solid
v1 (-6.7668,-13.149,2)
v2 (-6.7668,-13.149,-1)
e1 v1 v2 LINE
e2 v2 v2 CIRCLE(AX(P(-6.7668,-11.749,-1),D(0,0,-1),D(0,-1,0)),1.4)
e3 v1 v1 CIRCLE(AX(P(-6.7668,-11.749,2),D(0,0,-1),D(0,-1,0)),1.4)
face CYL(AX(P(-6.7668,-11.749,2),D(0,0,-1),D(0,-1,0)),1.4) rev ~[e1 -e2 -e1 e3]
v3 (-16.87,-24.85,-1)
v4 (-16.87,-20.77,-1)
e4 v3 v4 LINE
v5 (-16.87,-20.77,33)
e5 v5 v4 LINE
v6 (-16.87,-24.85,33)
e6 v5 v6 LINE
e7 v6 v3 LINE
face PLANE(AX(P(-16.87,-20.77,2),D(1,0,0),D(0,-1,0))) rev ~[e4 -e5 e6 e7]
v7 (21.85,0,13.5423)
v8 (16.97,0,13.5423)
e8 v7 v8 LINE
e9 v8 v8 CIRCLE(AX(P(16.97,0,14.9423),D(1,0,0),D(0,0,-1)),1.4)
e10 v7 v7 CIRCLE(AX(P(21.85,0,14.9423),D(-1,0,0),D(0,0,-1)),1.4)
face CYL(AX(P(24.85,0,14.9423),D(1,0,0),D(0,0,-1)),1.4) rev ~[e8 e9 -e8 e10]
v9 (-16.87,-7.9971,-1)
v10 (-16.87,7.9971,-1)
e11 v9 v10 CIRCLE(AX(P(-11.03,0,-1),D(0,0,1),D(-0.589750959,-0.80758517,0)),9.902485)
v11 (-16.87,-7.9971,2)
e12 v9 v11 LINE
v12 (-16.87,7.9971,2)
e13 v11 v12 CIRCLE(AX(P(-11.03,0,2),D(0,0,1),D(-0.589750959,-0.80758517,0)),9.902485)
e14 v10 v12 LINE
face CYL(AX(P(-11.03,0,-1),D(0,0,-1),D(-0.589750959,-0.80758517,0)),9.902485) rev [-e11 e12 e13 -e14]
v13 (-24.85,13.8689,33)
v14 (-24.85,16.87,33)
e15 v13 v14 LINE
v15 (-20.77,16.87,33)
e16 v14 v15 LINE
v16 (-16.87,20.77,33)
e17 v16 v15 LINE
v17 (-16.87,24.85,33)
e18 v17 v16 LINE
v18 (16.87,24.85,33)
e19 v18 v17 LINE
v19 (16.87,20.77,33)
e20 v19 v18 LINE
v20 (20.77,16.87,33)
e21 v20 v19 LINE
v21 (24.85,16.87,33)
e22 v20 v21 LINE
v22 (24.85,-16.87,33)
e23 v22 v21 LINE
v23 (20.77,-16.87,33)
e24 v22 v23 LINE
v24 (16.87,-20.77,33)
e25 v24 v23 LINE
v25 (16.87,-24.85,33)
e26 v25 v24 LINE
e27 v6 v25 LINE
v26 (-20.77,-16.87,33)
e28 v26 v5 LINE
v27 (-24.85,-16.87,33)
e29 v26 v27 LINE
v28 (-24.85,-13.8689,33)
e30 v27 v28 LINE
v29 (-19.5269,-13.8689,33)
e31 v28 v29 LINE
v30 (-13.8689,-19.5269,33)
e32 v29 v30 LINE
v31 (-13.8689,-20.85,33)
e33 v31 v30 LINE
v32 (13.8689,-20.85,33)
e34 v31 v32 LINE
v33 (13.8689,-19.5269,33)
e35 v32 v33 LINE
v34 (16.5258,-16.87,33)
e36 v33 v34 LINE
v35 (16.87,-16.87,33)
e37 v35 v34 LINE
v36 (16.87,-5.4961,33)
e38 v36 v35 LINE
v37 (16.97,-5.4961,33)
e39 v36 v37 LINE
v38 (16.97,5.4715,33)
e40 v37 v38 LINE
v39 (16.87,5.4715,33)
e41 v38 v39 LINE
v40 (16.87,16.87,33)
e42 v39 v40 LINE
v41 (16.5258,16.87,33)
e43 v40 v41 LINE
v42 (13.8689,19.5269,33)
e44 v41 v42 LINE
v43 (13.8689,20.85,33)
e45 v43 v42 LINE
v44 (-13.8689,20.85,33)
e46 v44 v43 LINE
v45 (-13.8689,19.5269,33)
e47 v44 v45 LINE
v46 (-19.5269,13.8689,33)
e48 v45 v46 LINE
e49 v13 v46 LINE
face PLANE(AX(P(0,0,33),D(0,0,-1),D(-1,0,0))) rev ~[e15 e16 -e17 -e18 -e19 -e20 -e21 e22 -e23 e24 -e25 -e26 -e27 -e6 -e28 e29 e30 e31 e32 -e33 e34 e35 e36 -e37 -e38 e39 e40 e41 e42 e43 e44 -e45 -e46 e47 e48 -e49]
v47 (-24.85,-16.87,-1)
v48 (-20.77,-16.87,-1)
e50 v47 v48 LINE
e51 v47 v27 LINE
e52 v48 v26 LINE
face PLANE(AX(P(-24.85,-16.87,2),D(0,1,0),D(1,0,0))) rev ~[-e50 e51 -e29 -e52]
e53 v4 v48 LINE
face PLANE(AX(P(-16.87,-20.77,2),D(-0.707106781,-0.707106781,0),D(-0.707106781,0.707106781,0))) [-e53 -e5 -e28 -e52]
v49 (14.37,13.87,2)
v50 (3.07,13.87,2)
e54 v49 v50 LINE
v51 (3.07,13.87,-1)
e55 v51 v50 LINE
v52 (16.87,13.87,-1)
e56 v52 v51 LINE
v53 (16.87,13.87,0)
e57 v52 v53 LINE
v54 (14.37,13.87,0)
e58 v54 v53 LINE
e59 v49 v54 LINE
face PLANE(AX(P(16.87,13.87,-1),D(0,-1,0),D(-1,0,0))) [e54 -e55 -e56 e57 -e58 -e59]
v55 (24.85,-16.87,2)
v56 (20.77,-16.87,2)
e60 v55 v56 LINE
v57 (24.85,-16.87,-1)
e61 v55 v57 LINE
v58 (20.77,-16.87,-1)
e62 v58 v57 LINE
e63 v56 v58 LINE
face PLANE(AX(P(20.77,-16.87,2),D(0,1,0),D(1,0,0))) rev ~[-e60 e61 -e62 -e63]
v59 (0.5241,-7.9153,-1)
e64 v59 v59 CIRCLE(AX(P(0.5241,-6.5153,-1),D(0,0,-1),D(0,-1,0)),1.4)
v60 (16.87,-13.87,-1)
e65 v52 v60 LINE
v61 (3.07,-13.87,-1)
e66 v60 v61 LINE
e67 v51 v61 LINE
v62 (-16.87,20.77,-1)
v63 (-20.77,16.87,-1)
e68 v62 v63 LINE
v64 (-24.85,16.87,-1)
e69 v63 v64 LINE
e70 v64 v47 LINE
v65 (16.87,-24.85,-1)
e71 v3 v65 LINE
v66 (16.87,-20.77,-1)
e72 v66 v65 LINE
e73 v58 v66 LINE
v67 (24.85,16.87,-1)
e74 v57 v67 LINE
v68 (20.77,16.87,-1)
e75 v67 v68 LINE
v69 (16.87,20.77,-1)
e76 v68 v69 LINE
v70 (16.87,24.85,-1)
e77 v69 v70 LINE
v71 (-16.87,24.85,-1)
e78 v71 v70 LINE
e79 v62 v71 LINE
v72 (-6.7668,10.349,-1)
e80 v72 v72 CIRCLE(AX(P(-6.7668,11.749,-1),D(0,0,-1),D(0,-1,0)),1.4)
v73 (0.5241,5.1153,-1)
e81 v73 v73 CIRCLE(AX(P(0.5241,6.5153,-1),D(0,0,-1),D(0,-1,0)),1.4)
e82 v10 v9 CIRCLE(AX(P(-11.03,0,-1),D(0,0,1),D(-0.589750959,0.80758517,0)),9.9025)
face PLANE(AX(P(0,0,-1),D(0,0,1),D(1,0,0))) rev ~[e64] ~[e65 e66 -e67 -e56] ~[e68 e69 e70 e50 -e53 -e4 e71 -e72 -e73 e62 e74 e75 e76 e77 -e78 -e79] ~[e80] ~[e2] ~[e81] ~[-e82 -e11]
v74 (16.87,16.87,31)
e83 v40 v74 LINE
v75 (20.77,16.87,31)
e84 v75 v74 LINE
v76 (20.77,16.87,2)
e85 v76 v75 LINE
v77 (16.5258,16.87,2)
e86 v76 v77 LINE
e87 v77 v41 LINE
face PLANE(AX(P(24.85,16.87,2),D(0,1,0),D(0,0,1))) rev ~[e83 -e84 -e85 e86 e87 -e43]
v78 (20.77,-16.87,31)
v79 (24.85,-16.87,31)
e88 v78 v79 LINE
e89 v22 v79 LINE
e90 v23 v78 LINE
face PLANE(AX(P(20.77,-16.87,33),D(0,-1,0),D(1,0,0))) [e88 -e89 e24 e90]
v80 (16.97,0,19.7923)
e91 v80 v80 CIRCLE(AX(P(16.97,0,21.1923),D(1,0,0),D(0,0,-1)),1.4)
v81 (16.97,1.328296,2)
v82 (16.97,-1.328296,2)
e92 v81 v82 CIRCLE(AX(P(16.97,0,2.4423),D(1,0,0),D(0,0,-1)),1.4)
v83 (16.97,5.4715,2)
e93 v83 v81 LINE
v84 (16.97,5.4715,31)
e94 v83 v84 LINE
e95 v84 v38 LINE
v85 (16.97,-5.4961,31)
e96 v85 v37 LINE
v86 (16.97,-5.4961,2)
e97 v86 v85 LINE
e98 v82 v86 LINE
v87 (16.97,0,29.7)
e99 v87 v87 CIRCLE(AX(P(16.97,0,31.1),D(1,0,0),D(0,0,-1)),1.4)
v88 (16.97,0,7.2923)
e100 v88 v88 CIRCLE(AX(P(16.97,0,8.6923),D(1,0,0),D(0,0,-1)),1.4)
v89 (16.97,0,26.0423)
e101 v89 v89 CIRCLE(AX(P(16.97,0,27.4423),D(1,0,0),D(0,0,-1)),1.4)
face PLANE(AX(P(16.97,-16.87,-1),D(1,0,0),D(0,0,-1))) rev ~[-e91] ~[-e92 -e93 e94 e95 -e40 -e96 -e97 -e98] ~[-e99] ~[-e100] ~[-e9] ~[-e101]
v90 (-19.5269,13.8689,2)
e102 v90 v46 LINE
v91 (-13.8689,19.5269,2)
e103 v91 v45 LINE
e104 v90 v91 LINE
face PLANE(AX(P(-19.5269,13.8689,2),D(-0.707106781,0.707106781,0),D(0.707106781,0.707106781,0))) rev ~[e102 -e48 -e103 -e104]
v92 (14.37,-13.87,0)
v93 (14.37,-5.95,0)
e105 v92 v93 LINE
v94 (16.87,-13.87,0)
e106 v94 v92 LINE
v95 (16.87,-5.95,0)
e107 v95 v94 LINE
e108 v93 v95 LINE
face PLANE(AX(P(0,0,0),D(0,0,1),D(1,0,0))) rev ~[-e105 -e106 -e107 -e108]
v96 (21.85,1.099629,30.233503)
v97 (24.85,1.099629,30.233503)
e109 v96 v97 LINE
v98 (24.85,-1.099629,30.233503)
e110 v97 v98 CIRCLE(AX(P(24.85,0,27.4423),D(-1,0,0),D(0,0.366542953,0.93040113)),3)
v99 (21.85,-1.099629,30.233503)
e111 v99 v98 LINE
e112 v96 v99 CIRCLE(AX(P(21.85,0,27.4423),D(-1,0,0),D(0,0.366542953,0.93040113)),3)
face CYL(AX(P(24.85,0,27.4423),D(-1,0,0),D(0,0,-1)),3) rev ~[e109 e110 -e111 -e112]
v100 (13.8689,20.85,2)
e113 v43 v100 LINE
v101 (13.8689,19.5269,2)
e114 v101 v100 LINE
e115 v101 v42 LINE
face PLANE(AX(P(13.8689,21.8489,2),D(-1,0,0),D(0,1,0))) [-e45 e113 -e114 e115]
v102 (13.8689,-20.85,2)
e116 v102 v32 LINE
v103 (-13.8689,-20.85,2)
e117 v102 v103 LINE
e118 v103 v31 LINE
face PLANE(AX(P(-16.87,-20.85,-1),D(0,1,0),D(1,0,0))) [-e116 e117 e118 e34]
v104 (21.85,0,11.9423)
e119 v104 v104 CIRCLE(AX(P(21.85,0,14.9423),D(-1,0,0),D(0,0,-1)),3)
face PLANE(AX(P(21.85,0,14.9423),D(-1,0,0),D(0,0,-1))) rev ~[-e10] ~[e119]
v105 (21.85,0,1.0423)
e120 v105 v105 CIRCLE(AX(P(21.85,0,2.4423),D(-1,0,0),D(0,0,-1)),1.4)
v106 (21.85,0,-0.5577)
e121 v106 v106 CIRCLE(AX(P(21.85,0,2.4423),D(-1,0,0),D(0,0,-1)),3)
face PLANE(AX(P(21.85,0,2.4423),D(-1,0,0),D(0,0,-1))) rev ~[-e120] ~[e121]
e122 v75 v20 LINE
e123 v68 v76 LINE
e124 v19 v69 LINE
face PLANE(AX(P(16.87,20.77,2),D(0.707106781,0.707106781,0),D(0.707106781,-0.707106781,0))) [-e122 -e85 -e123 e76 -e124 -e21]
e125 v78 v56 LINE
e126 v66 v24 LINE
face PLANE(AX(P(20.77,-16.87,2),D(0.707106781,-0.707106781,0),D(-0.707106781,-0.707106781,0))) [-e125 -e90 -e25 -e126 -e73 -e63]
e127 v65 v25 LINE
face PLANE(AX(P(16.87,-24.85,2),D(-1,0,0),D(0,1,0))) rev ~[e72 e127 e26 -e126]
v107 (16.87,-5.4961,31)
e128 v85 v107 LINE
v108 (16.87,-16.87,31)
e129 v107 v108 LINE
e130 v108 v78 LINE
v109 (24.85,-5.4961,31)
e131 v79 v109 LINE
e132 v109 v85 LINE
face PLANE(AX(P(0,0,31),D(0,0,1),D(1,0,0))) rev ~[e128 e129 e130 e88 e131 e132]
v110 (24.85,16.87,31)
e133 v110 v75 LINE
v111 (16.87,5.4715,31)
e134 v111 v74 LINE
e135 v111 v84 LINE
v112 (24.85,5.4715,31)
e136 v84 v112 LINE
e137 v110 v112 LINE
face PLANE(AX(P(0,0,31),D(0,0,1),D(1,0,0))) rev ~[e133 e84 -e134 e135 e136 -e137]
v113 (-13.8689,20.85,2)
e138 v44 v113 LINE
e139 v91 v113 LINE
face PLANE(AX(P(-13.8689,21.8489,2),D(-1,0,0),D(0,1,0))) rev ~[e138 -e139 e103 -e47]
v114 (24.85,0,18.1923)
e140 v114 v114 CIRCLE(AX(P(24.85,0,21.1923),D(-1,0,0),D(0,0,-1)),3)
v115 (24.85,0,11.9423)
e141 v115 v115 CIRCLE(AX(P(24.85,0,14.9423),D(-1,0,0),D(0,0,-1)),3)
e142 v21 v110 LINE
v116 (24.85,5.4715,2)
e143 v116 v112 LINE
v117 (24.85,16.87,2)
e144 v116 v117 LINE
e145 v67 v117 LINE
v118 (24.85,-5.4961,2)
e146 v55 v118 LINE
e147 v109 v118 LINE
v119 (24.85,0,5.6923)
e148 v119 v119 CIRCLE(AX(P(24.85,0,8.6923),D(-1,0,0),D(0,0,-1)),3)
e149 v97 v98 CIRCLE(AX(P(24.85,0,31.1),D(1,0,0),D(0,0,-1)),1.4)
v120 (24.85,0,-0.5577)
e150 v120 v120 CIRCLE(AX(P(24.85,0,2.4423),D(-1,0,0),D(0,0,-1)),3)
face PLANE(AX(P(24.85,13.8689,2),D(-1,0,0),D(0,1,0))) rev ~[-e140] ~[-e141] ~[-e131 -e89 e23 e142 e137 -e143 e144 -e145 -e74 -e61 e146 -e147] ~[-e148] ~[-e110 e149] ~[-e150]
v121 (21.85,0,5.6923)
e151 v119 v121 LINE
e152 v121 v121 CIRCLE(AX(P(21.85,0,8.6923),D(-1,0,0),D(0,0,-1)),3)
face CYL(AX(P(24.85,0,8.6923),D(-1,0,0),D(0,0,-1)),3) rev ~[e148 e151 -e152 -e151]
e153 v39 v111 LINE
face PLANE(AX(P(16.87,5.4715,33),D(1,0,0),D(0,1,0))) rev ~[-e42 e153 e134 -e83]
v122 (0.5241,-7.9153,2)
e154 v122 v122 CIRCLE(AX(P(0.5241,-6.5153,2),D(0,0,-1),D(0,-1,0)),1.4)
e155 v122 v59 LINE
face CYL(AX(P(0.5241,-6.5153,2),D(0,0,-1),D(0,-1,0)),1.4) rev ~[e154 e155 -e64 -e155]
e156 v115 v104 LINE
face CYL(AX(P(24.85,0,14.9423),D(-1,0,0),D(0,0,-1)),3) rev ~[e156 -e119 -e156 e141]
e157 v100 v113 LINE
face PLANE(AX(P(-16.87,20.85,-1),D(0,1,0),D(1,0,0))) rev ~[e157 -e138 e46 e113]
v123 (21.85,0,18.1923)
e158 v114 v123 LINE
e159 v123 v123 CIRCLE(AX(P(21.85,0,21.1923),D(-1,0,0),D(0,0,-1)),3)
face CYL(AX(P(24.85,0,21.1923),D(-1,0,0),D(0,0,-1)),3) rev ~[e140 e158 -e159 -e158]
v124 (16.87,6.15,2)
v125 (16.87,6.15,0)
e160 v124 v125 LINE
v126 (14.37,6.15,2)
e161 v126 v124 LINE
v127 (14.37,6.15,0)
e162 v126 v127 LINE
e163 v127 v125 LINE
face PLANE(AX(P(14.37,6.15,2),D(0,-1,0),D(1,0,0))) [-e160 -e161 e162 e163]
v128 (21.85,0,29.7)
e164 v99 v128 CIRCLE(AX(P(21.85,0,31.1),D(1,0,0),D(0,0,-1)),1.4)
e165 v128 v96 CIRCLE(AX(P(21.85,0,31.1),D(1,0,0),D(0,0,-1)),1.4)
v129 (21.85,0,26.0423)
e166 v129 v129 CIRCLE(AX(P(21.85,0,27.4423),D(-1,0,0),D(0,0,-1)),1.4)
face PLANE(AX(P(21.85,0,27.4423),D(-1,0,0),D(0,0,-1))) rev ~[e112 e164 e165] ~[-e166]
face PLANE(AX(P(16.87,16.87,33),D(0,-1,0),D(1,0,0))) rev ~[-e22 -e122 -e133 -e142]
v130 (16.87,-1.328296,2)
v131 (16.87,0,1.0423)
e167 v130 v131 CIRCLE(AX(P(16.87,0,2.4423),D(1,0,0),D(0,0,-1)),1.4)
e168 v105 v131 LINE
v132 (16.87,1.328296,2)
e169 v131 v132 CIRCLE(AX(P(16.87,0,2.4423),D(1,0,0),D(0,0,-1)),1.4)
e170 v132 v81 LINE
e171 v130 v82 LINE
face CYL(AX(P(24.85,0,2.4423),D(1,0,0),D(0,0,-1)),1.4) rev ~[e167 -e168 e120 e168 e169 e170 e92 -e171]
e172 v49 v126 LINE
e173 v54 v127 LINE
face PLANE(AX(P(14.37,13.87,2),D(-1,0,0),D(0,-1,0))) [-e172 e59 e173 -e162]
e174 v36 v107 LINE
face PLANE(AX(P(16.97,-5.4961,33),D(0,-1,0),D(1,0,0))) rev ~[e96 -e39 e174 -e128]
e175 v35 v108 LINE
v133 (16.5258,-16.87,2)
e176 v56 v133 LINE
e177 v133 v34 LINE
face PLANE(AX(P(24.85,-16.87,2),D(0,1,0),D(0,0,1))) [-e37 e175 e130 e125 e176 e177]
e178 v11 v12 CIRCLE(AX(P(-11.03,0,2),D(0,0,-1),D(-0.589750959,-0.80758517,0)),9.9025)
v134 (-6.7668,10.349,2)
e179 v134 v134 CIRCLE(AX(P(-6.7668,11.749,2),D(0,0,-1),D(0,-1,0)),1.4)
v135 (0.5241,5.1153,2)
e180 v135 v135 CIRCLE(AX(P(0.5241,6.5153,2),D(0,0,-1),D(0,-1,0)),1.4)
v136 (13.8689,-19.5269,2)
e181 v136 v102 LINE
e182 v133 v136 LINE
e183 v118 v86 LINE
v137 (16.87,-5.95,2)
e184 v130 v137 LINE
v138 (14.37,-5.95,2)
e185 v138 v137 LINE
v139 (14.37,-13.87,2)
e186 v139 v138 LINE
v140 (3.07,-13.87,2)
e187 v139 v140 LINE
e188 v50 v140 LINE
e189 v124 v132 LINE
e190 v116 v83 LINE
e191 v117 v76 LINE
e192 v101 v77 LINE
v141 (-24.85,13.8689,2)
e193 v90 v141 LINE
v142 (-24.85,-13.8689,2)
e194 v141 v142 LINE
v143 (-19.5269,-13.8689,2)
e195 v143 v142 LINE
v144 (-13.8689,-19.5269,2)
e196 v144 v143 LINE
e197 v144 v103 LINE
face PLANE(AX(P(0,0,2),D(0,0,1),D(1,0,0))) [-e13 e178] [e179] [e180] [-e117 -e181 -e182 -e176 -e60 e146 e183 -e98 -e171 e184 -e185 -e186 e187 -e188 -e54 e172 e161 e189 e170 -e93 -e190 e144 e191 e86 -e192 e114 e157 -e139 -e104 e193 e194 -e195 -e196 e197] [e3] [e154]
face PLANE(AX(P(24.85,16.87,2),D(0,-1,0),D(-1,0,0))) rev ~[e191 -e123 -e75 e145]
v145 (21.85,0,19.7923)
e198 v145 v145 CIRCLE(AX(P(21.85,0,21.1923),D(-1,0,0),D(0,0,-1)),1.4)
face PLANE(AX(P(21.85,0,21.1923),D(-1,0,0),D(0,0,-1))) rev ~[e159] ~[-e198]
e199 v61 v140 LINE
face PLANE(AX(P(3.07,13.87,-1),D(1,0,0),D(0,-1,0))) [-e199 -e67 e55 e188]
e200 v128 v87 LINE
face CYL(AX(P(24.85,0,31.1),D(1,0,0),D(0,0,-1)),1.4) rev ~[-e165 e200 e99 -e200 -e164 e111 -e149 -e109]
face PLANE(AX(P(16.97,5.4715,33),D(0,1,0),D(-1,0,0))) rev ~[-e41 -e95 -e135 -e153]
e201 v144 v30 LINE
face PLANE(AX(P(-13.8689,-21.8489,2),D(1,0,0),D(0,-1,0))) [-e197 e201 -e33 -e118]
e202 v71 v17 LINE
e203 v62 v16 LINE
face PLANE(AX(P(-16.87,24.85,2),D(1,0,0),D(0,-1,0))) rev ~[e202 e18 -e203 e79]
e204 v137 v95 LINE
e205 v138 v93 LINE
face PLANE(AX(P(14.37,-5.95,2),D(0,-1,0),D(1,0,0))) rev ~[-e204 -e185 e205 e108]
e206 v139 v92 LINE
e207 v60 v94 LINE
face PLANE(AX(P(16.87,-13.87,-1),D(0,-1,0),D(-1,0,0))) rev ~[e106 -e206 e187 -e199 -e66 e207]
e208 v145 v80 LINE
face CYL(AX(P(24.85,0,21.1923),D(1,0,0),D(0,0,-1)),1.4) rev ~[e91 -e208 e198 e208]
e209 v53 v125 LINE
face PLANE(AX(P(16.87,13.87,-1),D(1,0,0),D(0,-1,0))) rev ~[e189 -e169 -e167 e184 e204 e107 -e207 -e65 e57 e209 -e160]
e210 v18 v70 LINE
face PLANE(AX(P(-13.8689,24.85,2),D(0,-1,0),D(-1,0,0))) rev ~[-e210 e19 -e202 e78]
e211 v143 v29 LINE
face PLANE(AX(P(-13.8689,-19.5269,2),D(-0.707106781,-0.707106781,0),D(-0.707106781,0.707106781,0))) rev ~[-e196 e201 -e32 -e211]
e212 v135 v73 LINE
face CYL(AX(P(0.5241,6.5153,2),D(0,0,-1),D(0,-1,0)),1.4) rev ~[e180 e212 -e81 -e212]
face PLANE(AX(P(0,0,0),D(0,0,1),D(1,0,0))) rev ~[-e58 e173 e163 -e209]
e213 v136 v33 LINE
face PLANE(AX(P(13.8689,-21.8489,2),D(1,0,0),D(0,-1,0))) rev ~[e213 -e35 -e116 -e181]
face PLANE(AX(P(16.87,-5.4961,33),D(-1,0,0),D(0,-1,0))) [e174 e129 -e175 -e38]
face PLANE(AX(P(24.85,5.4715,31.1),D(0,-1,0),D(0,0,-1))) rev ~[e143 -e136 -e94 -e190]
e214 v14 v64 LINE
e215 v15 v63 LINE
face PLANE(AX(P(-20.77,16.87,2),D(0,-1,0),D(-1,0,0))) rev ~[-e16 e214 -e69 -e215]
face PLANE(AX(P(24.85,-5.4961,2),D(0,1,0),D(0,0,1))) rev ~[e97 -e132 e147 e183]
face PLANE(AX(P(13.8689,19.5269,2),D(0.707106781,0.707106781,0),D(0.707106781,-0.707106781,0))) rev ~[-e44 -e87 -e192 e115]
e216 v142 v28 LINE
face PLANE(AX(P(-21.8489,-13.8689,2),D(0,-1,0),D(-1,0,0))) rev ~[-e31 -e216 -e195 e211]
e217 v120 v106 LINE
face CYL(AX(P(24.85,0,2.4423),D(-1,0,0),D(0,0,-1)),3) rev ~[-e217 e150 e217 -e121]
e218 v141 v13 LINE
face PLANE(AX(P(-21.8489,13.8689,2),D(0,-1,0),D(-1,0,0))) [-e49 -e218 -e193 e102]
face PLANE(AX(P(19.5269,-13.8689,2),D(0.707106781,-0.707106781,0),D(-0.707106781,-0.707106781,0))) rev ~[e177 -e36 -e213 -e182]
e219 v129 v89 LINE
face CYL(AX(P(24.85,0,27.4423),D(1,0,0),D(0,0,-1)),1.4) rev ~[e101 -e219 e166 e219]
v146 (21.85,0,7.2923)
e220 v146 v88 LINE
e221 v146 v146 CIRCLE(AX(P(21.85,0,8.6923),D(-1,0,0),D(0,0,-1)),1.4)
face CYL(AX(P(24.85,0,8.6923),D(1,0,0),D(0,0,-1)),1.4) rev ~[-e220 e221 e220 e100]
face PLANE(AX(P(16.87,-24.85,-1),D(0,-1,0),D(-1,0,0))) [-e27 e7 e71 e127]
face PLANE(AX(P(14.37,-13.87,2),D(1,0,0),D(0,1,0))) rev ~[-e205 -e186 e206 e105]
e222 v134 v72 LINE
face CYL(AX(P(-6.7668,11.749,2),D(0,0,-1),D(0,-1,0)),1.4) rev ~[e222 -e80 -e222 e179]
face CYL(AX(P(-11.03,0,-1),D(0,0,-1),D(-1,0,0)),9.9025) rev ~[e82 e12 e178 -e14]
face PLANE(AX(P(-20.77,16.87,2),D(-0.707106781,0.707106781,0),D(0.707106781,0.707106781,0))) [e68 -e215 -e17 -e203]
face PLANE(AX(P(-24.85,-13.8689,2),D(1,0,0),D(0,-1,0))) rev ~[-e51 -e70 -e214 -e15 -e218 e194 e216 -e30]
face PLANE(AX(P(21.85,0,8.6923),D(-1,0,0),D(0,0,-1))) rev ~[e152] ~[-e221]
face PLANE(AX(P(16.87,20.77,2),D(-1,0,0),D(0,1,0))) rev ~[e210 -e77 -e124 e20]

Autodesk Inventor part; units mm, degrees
ref_plane "Work Plane1" through (0, 0, -1) normal (0, 0, 1) x (1, 0, 0)
sketch "Sketch1" plane through (0, 0, -1) normal (0, 0, 1) x (1, 0, 0)
  arc A0 (24.85, 22.85) -> (22.85, 24.85) centre (22.85, 22.85) ccw construction
  line L0 (22.85, 24.85) -> (-16.97, 24.85) construction
  line L1 (-16.97, 24.85) -> (-16.97, 21.15) construction
  line L2 (-16.97, 21.15) -> (16.97, 21.15) construction
  line L3 (16.97, 16.97) -> (16.97, 21.15) construction
  line L4 (21.15, 16.97) -> (16.97, 16.97) construction
  line L5 (21.15, 16.97) -> (21.15, -16.97) construction
  line L6 (21.15, -16.97) -> (24.85, -16.97) construction
  line L7 (24.85, -16.97) -> (24.85, 22.85) construction
  line L8 (23.75, 23.25) -> (23.75, 18.15) construction
  arc A1 (23.25, 17.65) -> (23.75, 18.15) centre (23.25, 18.15) ccw construction
  line L9 (23.25, 17.65) -> (20.8937, 17.65) construction
  arc A2 (20.5239, 17.8134) -> (20.8937, 17.65) centre (20.8937, 18.15) ccw construction
  line L10 (20.5239, 17.8134) -> (17.7803, 20.8273) construction
  arc A3 (17.65, 21.1639) -> (17.7803, 20.8273) centre (18.15, 21.1639) ccw construction
  line L11 (17.65, 21.1639) -> (17.65, 23.25) construction
  arc A4 (18.15, 23.75) -> (17.65, 23.25) centre (18.15, 23.25) ccw construction
  line L12 (18.15, 23.75) -> (23.25, 23.75) construction
  arc A5 (23.75, 23.25) -> (23.25, 23.75) centre (23.25, 23.25) ccw construction
  arc A6 (-24.85, -22.85) -> (-22.85, -24.85) centre (-22.85, -22.85) ccw construction
  line L13 (-22.85, -24.85) -> (16.97, -24.85) construction
  line L14 (16.97, -24.85) -> (16.97, -21.15) construction
  line L15 (16.97, -21.15) -> (-16.97, -21.15) construction
  line L16 (-16.97, -16.97) -> (-16.97, -21.15) construction
  line L17 (-21.15, -16.97) -> (-16.97, -16.97) construction
  line L18 (-21.15, -16.97) -> (-21.15, 16.97) construction
  line L19 (-21.15, 16.97) -> (-24.85, 16.97) construction
  line L20 (-24.85, 16.97) -> (-24.85, -22.85) construction
  line L21 (-20.8273, -17.7803) -> (-17.8134, -20.5239) construction
  arc A7 (-17.65, -20.8937) -> (-17.8134, -20.5239) centre (-18.15, -20.8937) ccw construction
  line L22 (-17.65, -20.8937) -> (-17.65, -23.25) construction
  arc A8 (-18.15, -23.75) -> (-17.65, -23.25) centre (-18.15, -23.25) ccw construction
  line L23 (-18.15, -23.75) -> (-23.25, -23.75) construction
  arc A9 (-23.75, -23.25) -> (-23.25, -23.75) centre (-23.25, -23.25) ccw construction
  line L24 (-23.75, -23.25) -> (-23.75, -18.15) construction
  arc A10 (-23.25, -17.65) -> (-23.75, -18.15) centre (-23.25, -18.15) ccw construction
  line L25 (-23.25, -17.65) -> (-21.1639, -17.65) construction
  arc A11 (-20.8273, -17.7803) -> (-21.1639, -17.65) centre (-21.1639, -18.15) ccw construction
  arc A12 (-22.85, 24.85) -> (-24.85, 22.85) centre (-22.85, 22.85) ccw construction
  line L26 (-22.85, 24.85) -> (16.97, 24.85) construction
  line L27 (16.97, 24.85) -> (16.97, 21.15) construction
  line L28 (16.97, 21.15) -> (-16.97, 21.15) construction
  line L29 (-16.97, 16.97) -> (-16.97, 21.15) construction
  line L30 (-21.15, 16.97) -> (-16.97, 16.97) construction
  line L31 (-21.15, 16.97) -> (-21.15, -16.97) construction
  line L32 (-21.15, -16.97) -> (-24.85, -16.97) construction
  line L33 (-24.85, -16.97) -> (-24.85, 22.85) construction
  line L34 (-20.8273, 17.7803) -> (-17.8134, 20.5239) construction
  arc A13 (-17.8134, 20.5239) -> (-17.65, 20.8937) centre (-18.15, 20.8937) ccw construction
  line L35 (-17.65, 20.8937) -> (-17.65, 23.25) construction
  arc A14 (-17.65, 23.25) -> (-18.15, 23.75) centre (-18.15, 23.25) ccw construction
  line L36 (-18.15, 23.75) -> (-23.25, 23.75) construction
  arc A15 (-23.25, 23.75) -> (-23.75, 23.25) centre (-23.25, 23.25) ccw construction
  line L37 (-23.75, 23.25) -> (-23.75, 18.15) construction
  arc A16 (-23.75, 18.15) -> (-23.25, 17.65) centre (-23.25, 18.15) ccw construction
  line L38 (-23.25, 17.65) -> (-21.1639, 17.65) construction
  arc A17 (-21.1639, 17.65) -> (-20.8273, 17.7803) centre (-21.1639, 18.15) ccw construction
  arc A18 (22.85, -24.85) -> (24.85, -22.85) centre (22.85, -22.85) ccw construction
  line L39 (22.85, -24.85) -> (-16.97, -24.85) construction
  line L40 (-16.97, -24.85) -> (-16.97, -21.15) construction
  line L41 (-16.97, -21.15) -> (16.97, -21.15) construction
  line L42 (16.97, -16.97) -> (16.97, -21.15) construction
  line L43 (21.15, -16.97) -> (16.97, -16.97) construction
  line L44 (21.15, -16.97) -> (21.15, 16.97) construction
  line L45 (21.15, 16.97) -> (24.85, 16.97) construction
  line L46 (24.85, 16.97) -> (24.85, -22.85) construction
  line L47 (23.75, -23.25) -> (23.75, -18.15) construction
  arc A19 (23.75, -18.15) -> (23.25, -17.65) centre (23.25, -18.15) ccw construction
  line L48 (23.25, -17.65) -> (20.8937, -17.65) construction
  arc A20 (20.8937, -17.65) -> (20.5239, -17.8134) centre (20.8937, -18.15) ccw construction
  line L49 (20.5239, -17.8134) -> (17.7803, -20.8273) construction
  arc A21 (17.7803, -20.8273) -> (17.65, -21.1639) centre (18.15, -21.1639) ccw construction
  line L50 (17.65, -21.1639) -> (17.65, -23.25) construction
  arc A22 (17.65, -23.25) -> (18.15, -23.75) centre (18.15, -23.25) ccw construction
  line L51 (18.15, -23.75) -> (23.25, -23.75) construction
  arc A23 (23.25, -23.75) -> (23.75, -23.25) centre (23.25, -23.25) ccw construction
  line L52 (24.85, 16.87) -> (16.87, 16.87)
  line L53 (16.87, 16.87) -> (16.87, -16.87)
  line L54 (16.87, -16.87) -> (24.85, -16.87)
  line L55 (24.85, -16.87) -> (24.85, 16.87)
  line L56 (-16.87, 24.85) -> (16.87, 24.85)
  line L57 (16.87, 24.85) -> (16.87, 13.87)
  line L58 (16.87, 13.87) -> (-16.87, 13.87)
  line L59 (-16.87, 13.87) -> (-16.87, 24.85)
  line L60 (-16.87, 16.87) -> (-24.85, 16.87)
  line L61 (-24.85, 16.87) -> (-24.85, -16.87)
  line L62 (-24.85, -16.87) -> (-16.87, -16.87)
  line L63 (-16.87, -16.87) -> (-16.87, 16.87)
  line L64 (-16.87, -24.85) -> (16.87, -24.85)
  line L65 (16.87, -24.85) -> (16.87, -13.87)
  line L66 (16.87, -13.87) -> (-16.87, -13.87)
  line L67 (-16.87, -13.87) -> (-16.87, -24.85)
  arc A24 (12.6573, -5.8482) -> (12.7994, -6.05) centre (12.9383, -5.8013) ccw construction
  line L68 (12.7994, -6.05) -> (16.97, -6.05) construction
  line L69 (16.97, -6.05) -> (16.97, 6.05) construction
  line L70 (12.7994, 6.05) -> (16.97, 6.05) construction
  arc A25 (12.7994, 6.05) -> (12.6573, 5.8482) centre (12.9383, 5.8013) ccw construction
  arc A26 (12.2641, 5.5514) -> (12.6573, 5.8482) centre (11.7553, 6.6343) ccw construction
  arc A27 (12.2641, 5.5514) -> (12.1529, 5.425) centre (12.3846, 5.3332) ccw construction
  line L71 (12.1141, 4.928) -> (12.1529, 5.425) construction
  arc A28 (11.8955, 4.7) -> (12.1141, 4.928) centre (11.8656, 4.9475) ccw construction
  line L72 (11.4444, 4.7) -> (11.8955, 4.7) construction
  arc A29 (11.1961, 4.9275) -> (11.4444, 4.7) centre (11.4444, 4.9493) ccw construction
  line L73 (11.1642, 5.293) -> (11.1961, 4.9275) construction
  arc A30 (11.1642, 5.293) -> (11.0112, 5.5514) centre (10.9164, 5.3208) ccw construction
  arc A31 (10.4933, 5.8954) -> (11.0112, 5.5514) centre (11.4026, 6.7024) ccw construction
  arc A32 (10.4933, 5.8954) -> (10.27, 6.05) centre (10.2627, 5.8008) ccw construction
  line L74 (9.67, 6.05) -> (10.27, 6.05) construction
  line L75 (9.17, 5.55) -> (9.67, 6.05) construction
  line L76 (9.17, 5.55) -> (9.17, -5.55) construction
  line L77 (9.17, -5.55) -> (9.67, -6.05) construction
  line L78 (9.67, -6.05) -> (10.27, -6.05) construction
  arc A33 (10.27, -6.05) -> (10.4933, -5.8954) centre (10.2627, -5.8008) ccw construction
  arc A34 (11.0112, -5.5514) -> (10.4933, -5.8954) centre (11.4026, -6.7024) ccw construction
  arc A35 (11.0112, -5.5514) -> (11.1642, -5.293) centre (10.9164, -5.3208) ccw construction
  line L79 (11.1642, -5.293) -> (11.1961, -4.9275) construction
  arc A36 (11.4444, -4.7) -> (11.1961, -4.9275) centre (11.4444, -4.9493) ccw construction
  line L80 (11.4444, -4.7) -> (11.8955, -4.7) construction
  arc A37 (12.1141, -4.928) -> (11.8955, -4.7) centre (11.8656, -4.9475) ccw construction
  line L81 (12.1141, -4.928) -> (12.1529, -5.425) construction
  arc A38 (12.1529, -5.425) -> (12.2641, -5.5514) centre (12.3846, -5.3332) ccw construction
  arc A39 (12.6573, -5.8482) -> (12.2641, -5.5514) centre (11.7553, -6.6343) ccw construction
  circle A40 centre (-22.53, 11.5) radius 1.025 construction
  circle A41 centre (-22.53, -11.5) radius 1.025 construction
  line L82 (-11.03, -14.1) -> (-11.03, -12.75) construction
  arc A42 (-11.03, 12.75) -> (-11.03, -12.75) centre (-11.03, 0) ccw construction
  line L83 (-11.03, 12.75) -> (-11.03, 14.1) construction
  line L84 (-11.03, 14.1) -> (-22.53, 14.1) construction
  arc A43 (-22.53, 14.1) -> (-25.13, 11.5) centre (-22.53, 11.5) ccw construction
  line L85 (-25.13, 11.5) -> (-25.13, -11.5) construction
  arc A44 (-25.13, -11.5) -> (-22.53, -14.1) centre (-22.53, -11.5) ccw construction
  line L86 (-22.53, -14.1) -> (-11.03, -14.1) construction
  circle A45 centre (-11.03, 0) radius 12.75 construction
  circle A46 centre (0.47, 11.5) radius 1.025 construction
  circle A47 centre (0.47, -11.5) radius 1.025 construction
  circle A48 centre (-22.53, -11.5) radius 1.025 construction
  circle A49 centre (-22.53, 11.5) radius 1.025 construction
  line L87 (-22.53, -14.1) -> (0.47, -14.1) construction
  arc A50 (-25.13, -11.5) -> (-22.53, -14.1) centre (-22.53, -11.5) ccw construction
  line L88 (-25.13, 11.5) -> (-25.13, -11.5) construction
  arc A51 (-22.53, 14.1) -> (-25.13, 11.5) centre (-22.53, 11.5) ccw construction
  line L89 (0.47, 14.1) -> (-22.53, 14.1) construction
  arc A52 (3.07, 11.5) -> (0.47, 14.1) centre (0.47, 11.5) ccw construction
  line L90 (3.07, -11.5) -> (3.07, 11.5) construction
  arc A53 (0.47, -14.1) -> (3.07, -11.5) centre (0.47, -11.5) ccw construction
  line L91 (-16.87, 13.87) -> (3.07, 13.87)
  line L92 (3.07, 13.87) -> (3.07, -13.87)
  line L93 (3.07, -13.87) -> (-16.87, -13.87)
  line L94 (-16.87, -13.87) -> (-16.87, 13.87)
  circle A54 centre (-11.03, 0) radius 2.75 construction
  arc A55 (-16.87, -7.9971) -> (-16.87, 7.9971) centre (-11.03, 0) ccw
  line L95 (-16.87, 7.9971) -> (-16.87, -7.9971)
  point P0 (0, 0)
  dimension "d1" = 0.1
  dimension "d2" = 0.1
  dimension "d3" = 0.1
  dimension "d4" = 0.1
  dimension "d5" = 0.1
  dimension "d6" = 3
  dimension "d7" = 3
extrude "Extrusion1" add sketch "Sketch1" along normal blind 3 contours L55 L54 L53 L52 | L53 L58 L59 L56 L57 | L65 L64 L67 L63 L66 L53 | L92 L66 L63 A55 L58 | L63 L62 L61 L60 L59
chamfer "Chamfer1" distance 3.9 angle 45 4 edges at (16.87, -16.87, 0.5) (-16.87, -16.87, 0.5) (-16.87, 16.87, 0.5) (16.87, 16.87, 0.5)
sketch "Sketch2" plane through (0, 0, 2) normal (0, 0, 1) x (1, 0, 0)
  line L0 (3.07, 13.87) -> (16.87, 13.87) projected
  line L1 (16.87, 13.87) -> (16.87, -13.87) projected
  line L2 (16.87, -13.87) -> (3.07, -13.87) projected
  line L3 (-16.87, -20.77) -> (-16.87, -24.85) projected
  line L4 (-16.87, -24.85) -> (16.87, -24.85) projected
  line L5 (16.87, -24.85) -> (16.87, -20.77) projected
  line L6 (20.77, -16.87) -> (16.87, -20.77) projected
  line L7 (20.77, -16.87) -> (24.85, -16.87) projected
  line L8 (24.85, -16.87) -> (24.85, 16.87) projected
  line L9 (24.85, 16.87) -> (20.77, 16.87) projected
  line L10 (16.87, 20.77) -> (20.77, 16.87) projected
  line L11 (16.87, 20.77) -> (16.87, 24.85) projected
  line L12 (16.87, 24.85) -> (-16.87, 24.85) projected
  line L13 (-16.87, 24.85) -> (-16.87, 20.77) projected
  line L14 (-20.77, 16.87) -> (-16.87, 20.77) projected
  line L15 (-20.77, 16.87) -> (-24.85, 16.87) projected
  line L16 (-24.85, 16.87) -> (-24.85, -16.87) projected
  line L17 (-24.85, -16.87) -> (-20.77, -16.87) projected
  line L18 (-16.87, -20.77) -> (-20.77, -16.87) projected
  line L19 (13.8689, -19.5269) -> (13.8689, -21.8489)
  line L20 (-13.8689, -21.8489) -> (-13.8689, -19.5269)
  line L21 (-13.8689, -19.5269) -> (-19.5269, -13.8689)
  line L22 (-19.5269, -13.8689) -> (-21.8489, -13.8689)
  line L23 (-21.8489, 13.8689) -> (-19.5269, 13.8689)
  line L24 (-19.5269, 13.8689) -> (-13.8689, 19.5269)
  line L25 (-13.8689, 19.5269) -> (-13.8689, 21.8489)
  line L26 (13.8689, 21.8489) -> (13.8689, 19.5269)
  line L27 (13.8689, 19.5269) -> (19.5269, 13.8689)
  line L28 (19.5269, 13.8689) -> (21.8489, 13.8689)
  line L29 (21.8489, -13.8689) -> (19.5269, -13.8689)
  line L30 (19.5269, -13.8689) -> (13.8689, -19.5269)
  line L31 (13.8689, -21.8489) -> (13.8689, -24.85)
  line L32 (16.87, -24.85) -> (-16.87, -24.85) projected
  line L33 (21.8489, -13.8689) -> (24.85, -13.8689)
  line L34 (24.85, -16.87) -> (24.85, 16.87) projected
  line L35 (21.8489, 13.8689) -> (24.85, 13.8689)
  line L36 (13.8689, 21.8489) -> (13.8689, 24.85)
  line L37 (-13.8689, 21.8489) -> (-13.8689, 24.85)
  line L38 (-21.8489, 13.8689) -> (-24.85, 13.8689)
  line L39 (-21.8489, -13.8689) -> (-24.85, -13.8689)
  line L40 (-13.8689, -21.8489) -> (-13.8689, -24.85)
  line L41 (13.8689, -21.8489) -> (11.5469, -21.8489)
  line L42 (-11.5469, -21.8489) -> (-13.8689, -21.8489)
  line L43 (21.8489, 13.8689) -> (21.8489, 11.5469)
  line L44 (21.8489, -11.5469) -> (21.8489, -13.8689)
  line L45 (-21.8489, -13.8689) -> (-21.8489, -11.5469)
  line L46 (-21.8489, 11.5469) -> (-21.8489, 13.8689)
  line L47 (-13.8689, 21.8489) -> (-11.5469, 21.8489)
  line L48 (11.5469, 21.8489) -> (13.8689, 21.8489)
  line L49 (3.07, -13.87) -> (3.07, 13.87) projected
  point P0 (0, 0)
  dimension "d13" = 3.0011
ref_plane "Work Plane2" through (-16.97, -24.85, 34.1) normal (0, 0, -1) x (0, 1, 0)
extrude "Extrusion2" add sketch "Sketch2" along normal blind 31.5 contours L31 L19 L30 L29 L33 L8 L7 L6 L5 L4
pattern_circular "Circular Pattern1" count 4 over 360 about axis through (0, 0, 146.63) along (0, 0, -1) of "Extrusion2"
sketch "Sketch3" plane through (-24.85, -13.8689, 34.1) normal (0, 0, 1) x (1, 0, 0)
  circle A0 centre (13.82, 14.8989) radius 1.5 projected
  line L0 (10.9811, -5.658) -> (5.3231, 0) projected
  line L1 (5.3231, 0) -> (0, 0) projected
  line L2 (0, 0) -> (0, -3.0011) projected
  line L3 (0, -3.0011) -> (4.08, -3.0011) projected
  line L4 (4.08, -3.0011) -> (7.98, -6.9011) projected
  line L5 (7.98, -6.9011) -> (7.98, -10.9811) projected
  line L6 (7.98, -10.9811) -> (10.9811, -10.9811) projected
  line L7 (10.9811, -10.9811) -> (10.9811, -5.658) projected
  line L8 (5.3231, 27.7378) -> (10.9811, 33.3958) projected
  line L9 (10.9811, 33.3958) -> (10.9811, 38.7189) projected
  line L10 (10.9811, 38.7189) -> (7.98, 38.7189) projected
  line L11 (7.98, 38.7189) -> (7.98, 34.6389) projected
  line L12 (7.98, 34.6389) -> (4.08, 30.7389) projected
  line L13 (4.08, 30.7389) -> (0, 30.7389) projected
  line L14 (0, 30.7389) -> (0, 27.7378) projected
  line L15 (0, 27.7378) -> (5.3231, 27.7378) projected
  line L16 (10.9811, -10.9811) -> (16.9811, -10.9811)
  line L17 (16.9811, 38.7189) -> (10.9811, 38.7189)
  line L18 (0, 0) -> (0, 27.7378)
  line L19 (0, 0) -> (5.3231, 0)
  line L20 (5.3231, 0) -> (5.3231, 27.7378)
  line L21 (5.3231, 27.7378) -> (0, 27.7378)
  line L22 (0, 27.7378) -> (0, 0)
  line L23 (5.3231, 0) -> (0, 0) projected
  line L24 (5.3231, 0) -> (10.9811, -5.658)
  line L25 (10.9811, 33.3958) -> (5.3231, 27.7378)
  line L26 (38.7189, 38.7189) -> (38.7189, 33.3958) projected
  line L27 (38.7189, -5.658) -> (38.7189, -10.9811) projected
  line L28 (10.9811, -10.9811) -> (38.7189, -10.9811)
  line L29 (38.7189, -10.9811) -> (38.7189, -5.658)
  line L30 (38.7189, -5.658) -> (10.9811, -5.658)
  line L31 (10.9811, -5.658) -> (10.9811, -10.9811)
  line L32 (10.9811, 38.7189) -> (10.9811, 33.3958) projected
  line L33 (10.9811, 38.7189) -> (38.7189, 38.7189)
  line L34 (38.7189, 38.7189) -> (38.7189, 33.3958)
  line L35 (38.7189, 33.3958) -> (10.9811, 33.3958)
  line L36 (10.9811, 33.3958) -> (10.9811, 38.7189)
  line L37 (16.9811, -10.9811) -> (16.9811, -5.658)
  line L38 (16.9811, 33.3958) -> (16.9811, 38.7189)
  line L39 (10.9811, 38.7189) -> (10.9811, 33.3958)
  line L40 (10.9811, -5.658) -> (10.9811, -10.9811)
  line L41 (10.9811, -5.658) -> (10.9811, 0)
  line L42 (10.9811, 27.7378) -> (10.9811, 33.3958)
  line L43 (49.7, 0) -> (44.3769, 0) projected
  line L44 (44.3769, 27.7378) -> (49.7, 27.7378) projected
  line L45 (44.3769, 27.7378) -> (49.7, 27.7378)
  line L46 (49.7, 27.7378) -> (49.7, 0)
  line L47 (49.7, 0) -> (44.3769, 0)
  line L48 (44.3769, 0) -> (44.3769, 27.7378)
  line L49 (44.3769, 27.7378) -> (38.7189, 33.3958) projected
  line L50 (38.7189, 33.3958) -> (38.7189, 38.7189) projected
  line L51 (44.3769, 27.7378) -> (38.7189, 33.3958)
  line L52 (38.7189, -10.9811) -> (38.7189, -5.658) projected
  line L53 (44.3769, 0) -> (38.7189, -5.658)
  line L54 (39.5979, -4.779) -> (39.5979, 32.5168)
  line L55 (38.7189, 33.3958) -> (44.3769, 27.7378) projected
  point P0 (24.85, 13.8689)
  point P1 (39.5979, 32.5168)
  dimension "d19" = 6
extrude "Extrusion3" [suppressed]
sketch "Sketch4" plane through (24.85, -16.87, -1) normal (1, 0, 0) x (0, 0, -1)
  line L0 (37.9, 11.3739) -> (37.9, 18.453) construction
  line L1 (23.6194, 18.453) -> (37.9, 18.453) construction
  arc A0 (22.1806, 18.453) -> (23.6194, 18.453) centre (22.9, 16.8577) ccw construction
  line L2 (-1.3806, 18.453) -> (22.1806, 18.453) construction
  arc A1 (-2.8194, 18.453) -> (-1.3806, 18.453) centre (-2.1, 16.8577) ccw construction
  line L3 (-31.3806, 18.453) -> (-2.8194, 18.453) construction
  arc A2 (-32.8194, 18.453) -> (-31.3806, 18.453) centre (-32.1, 16.8577) ccw construction
  line L4 (-42.1, 18.453) -> (-32.8194, 18.453) construction
  line L5 (-42.1, 11.3739) -> (-42.1, 18.453) construction
  line L6 (-42.1, 11.3739) -> (37.9, 11.3739) construction
  line L7 (37.9, 19.2506) -> (37.9, 22.3415) construction
  line L8 (-42.1, 22.3415) -> (37.9, 22.3415) construction
  line L9 (-42.1, 19.2506) -> (-42.1, 22.3415) construction
  line L10 (-42.1, 19.2506) -> (37.9, 19.2506) construction
  line L11 (-3, 3.0011) -> (-3, 30.7389) construction
  line L12 (-34.1, 33.84) -> (-34.1, -5.98) construction
  line L13 (-3, 11.3739) -> (-34.1, 11.3739)
  line L14 (-34.1, 11.3739) -> (-34.1, 22.3415)
  line L15 (-34.1, 22.3415) -> (-3, 22.3415)
  line L16 (-3, 22.3415) -> (-3, 11.3739)
  line L17 (-34.1, 11.3739) -> (-32.1, 11.3739)
  line L18 (-32.1, 11.3739) -> (-32.1, 3.0011)
  line L19 (-32.1, 3.0011) -> (-34.1, 3.0011)
  line L20 (-34.1, 3.0011) -> (-34.1, 11.3739)
  line L21 (-34.1, 22.3415) -> (-32.1, 22.3415)
  line L22 (-32.1, 22.3415) -> (-32.1, 30.7389)
  line L23 (-32.1, 30.7389) -> (-34.1, 30.7389)
  line L24 (-34.1, 30.7389) -> (-34.1, 22.3415)
  point P0 (-1, 16.87)
  dimension "d24" = 2
ref_plane "Work Plane3" through (16.97, -5.4961, -37.9) normal (1, 0, 0) x (0, 1, 0)
extrude "Extrusion4" add sketch "Sketch4" against normal up to surface (7.88 mm away) contours L13 L14 L15 L16
sketch "Sketch5" plane through (24.85, -16.87, -1) normal (1, 0, 0) x (0, 0, -1)
  circle A0 centre (-32.1, 16.87) radius 1.4
  circle A1 centre (-3.4423, 16.87) radius 1.4
  line L0 (0, -7.98) -> (-34.5, -7.98) projected
  line L1 (0, 41.72) -> (-34.5, 41.72) projected
  line L2 (0, -7.98) -> (-34.5, -7.98) projected
  point P0 (-1, 16.87)
  dimension "d25" = 2.8
  dimension "d26" = 2.8
  dimension "d86" = 49.7
  dimension "d87" = 24.85
  dimension "d88" = 0
extrude "Extrusion5" cut sketch "Sketch5" against normal blind 10
pattern_linear "Rectangular Pattern1" count 5 spacing 6.25 along (0, 0, 1) of "Extrusion5"
sketch "Sketch7" plane through (0, 0, -1) normal (0, 0, -1) x (-1, 0, 0)
  arc A0 (18.93, 12.43) -> (22.43, 8.93) centre (22.43, 12.43) ccw construction
  line L0 (18.93, 12.43) -> (18.93, 14.53) construction
  line L1 (3.13, 14.53) -> (18.93, 14.53) construction
  line L2 (3.13, 14.53) -> (3.13, 12.43) construction
  arc A1 (-0.37, 8.93) -> (3.13, 12.43) centre (-0.37, 12.43) ccw construction
  line L3 (-0.37, 8.93) -> (-2.47, 8.93) construction
  line L4 (-2.47, -6.87) -> (-2.47, 8.93) construction
  line L5 (-2.47, -6.87) -> (-0.37, -6.87) construction
  arc A2 (3.13, -10.37) -> (-0.37, -6.87) centre (-0.37, -10.37) ccw construction
  line L6 (3.13, -10.37) -> (3.13, -12.47) construction
  line L7 (18.93, -12.47) -> (3.13, -12.47) construction
  line L8 (18.93, -12.47) -> (18.93, -10.37) construction
  arc A3 (22.43, -6.87) -> (18.93, -10.37) centre (22.43, -10.37) ccw construction
  line L9 (22.43, -6.87) -> (24.53, -6.87) construction
  line L10 (24.53, 8.93) -> (24.53, -6.87) construction
  line L11 (24.53, 8.93) -> (22.43, 8.93) construction
  circle A4 centre (11.03, 1.03) radius 2.5 construction
  arc A5 (-1.5344, 11.2045) -> (0.934, 13.4886) centre (-0.47, 12.53) ccw construction
  circle A6 centre (-0.47, -10.47) radius 1.1 construction
  arc A7 (0.5944, 13.8555) -> (-1.874, 11.5714) centre (-0.47, 12.53) ccw construction
  line L12 (-19.5269, -13.8689) -> (-24.85, -13.8689) construction
  line L13 (-16.87, -13.87) -> (-3.07, -13.87) construction
  line L14 (-3.07, 13.87) -> (-16.87, 13.87) construction
  line L15 (-19.5269, 13.8689) -> (-13.8689, 19.5269) construction
  line L16 (-13.8689, 19.5269) -> (-13.8689, 24.85) construction
  line L17 (-13.8689, 24.85) -> (13.8689, 24.85) construction
  line L18 (13.8689, 24.85) -> (13.8689, 19.5269) construction
  line L19 (13.8689, 19.5269) -> (19.5269, 13.8689) construction
  line L20 (19.5269, 13.8689) -> (24.85, 13.8689) construction
  line L21 (24.85, 13.8689) -> (24.85, -13.8689) construction
  line L22 (24.85, -13.8689) -> (19.5269, -13.8689) construction
  line L23 (19.5269, -13.8689) -> (13.8689, -19.5269) construction
  line L24 (13.8689, -19.5269) -> (13.8689, -24.85) construction
  line L25 (13.8689, -24.85) -> (-13.8689, -24.85) construction
  line L26 (-13.8689, -24.85) -> (-13.8689, -19.5269) construction
  line L27 (-13.8689, -19.5269) -> (-19.5269, -13.8689) construction
  line L28 (-3.07, 13.87) -> (-16.87, 13.87) construction
  line L29 (-3.07, 13.87) -> (-19.5258, 13.87) projected
  line L30 (-2.13, 13.87) -> (16.87, 13.87)
  line L31 (16.87, 13.87) -> (16.87, -16.45)
  line L32 (16.87, -16.45) -> (-2.13, -16.45)
  line L33 (-2.13, -16.45) -> (-2.13, 13.87)
  line L34 (16.97, 16.97) -> (-16.97, 16.97)
  line L35 (16.87, 13.87) -> (-2.13, 13.87)
  line L36 (-2.13, 13.87) -> (-2.13, 16.45)
  line L37 (-2.13, 16.45) -> (16.87, 16.45)
  line L38 (16.87, 16.45) -> (16.87, 13.87)
  line L39 (-16.97, -16.97) -> (16.97, -16.97) construction
  line L40 (-16.97, 1.3283) -> (-16.97, 5.4715) projected
  line L41 (-16.97, 5.4715) -> (-24.85, 5.4715) projected
  line L42 (-24.85, 5.4715) -> (-24.85, 13.8689) projected
  line L43 (-24.85, 13.8689) -> (-19.5269, 13.8689) projected
  line L44 (-24.85, -13.8689) -> (-24.85, -5.4961) projected
  line L45 (-24.85, -5.4961) -> (-16.97, -5.4961) projected
  line L46 (-16.87, 13.87) -> (-16.87, 1.3283) projected
  line L47 (-3.07, -13.87) -> (-3.07, 13.87) projected
  line L48 (-16.87, 1.3283) -> (-16.97, 1.3283) projected
  line L49 (-16.97, -5.4961) -> (-16.97, -1.3283) projected
  line L50 (-16.97, -1.3283) -> (-16.87, -1.3283) projected
  line L51 (-16.87, -1.3283) -> (-16.87, -13.87) projected
  point P0 (0, 0)
  point P1 (16.87, 13.87)
  dimension "d35" = 19
  dimension "d74" = 16.45
  dimension "d75" = 16.45
ref_plane "Work Plane4" through (-25.03, -12.97, -12) normal (0, 0, 1) x (1, 0, 0)
sketch "Sketch12" plane through (24.85, -16.87, -1) normal (1, 0, 0) x (0, 0, -1)
  ellipse E0 centre (-17.053, 16.87) end of major axis (-32.053, 16.87) minor radius 10.6066 projected
  circle A0 centre (-32.1, 16.87) radius 1.4 projected
  circle A1 centre (-22.1923, 16.87) radius 1.4 projected
  circle A2 centre (-15.9423, 16.87) radius 1.4 projected
  circle A3 centre (-9.6923, 16.87) radius 1.4 projected
  circle A4 centre (-3.4423, 16.87) radius 1.4 projected
  circle A5 centre (-28.4423, 16.87) radius 1.4 projected
  point P0 (-1, 16.87)
hole "Hole2" at (24.85, 0, 21.1923) at (24.85, 0, 8.6923) at (24.85, 0, 2.4423) at (24.85, 0, 14.9423) at (24.85, 0, 27.4423) direction (-1, 0, 0) diameter 2.8 depth 8 tip angle 118 counterbore diameter 6 counterbore depth 3
ref_plane "Work Plane6" through (0, 0, -22) normal (0, 0, -1) x (-1, 0, 0)
sketch "Sketch15" plane through (0, 0, 2) normal (0, 0, 1) x (1, 0, 0)
  arc A0 (12.6573, -5.7482) -> (12.7994, -5.95) centre (12.9383, -5.7012) ccw projected
  line L0 (12.7994, -5.95) -> (16.97, -5.95) projected
  line L1 (16.97, -5.95) -> (16.97, 6.15) projected
  line L2 (12.7994, 6.15) -> (16.97, 6.15) projected
  arc A1 (12.7994, 6.15) -> (12.6573, 5.9482) centre (12.9383, 5.9013) ccw projected
  arc A2 (12.2641, 5.6514) -> (12.6573, 5.9482) centre (11.7553, 6.7343) ccw projected
  arc A3 (12.2641, 5.6514) -> (12.1529, 5.525) centre (12.3846, 5.4332) ccw projected
  line L3 (12.1141, 5.028) -> (12.1529, 5.525) projected
  arc A4 (11.8955, 4.8) -> (12.1141, 5.028) centre (11.8656, 5.0475) ccw projected
  line L4 (11.4444, 4.8) -> (11.8955, 4.8) projected
  arc A5 (11.1961, 5.0276) -> (11.4444, 4.8) centre (11.4444, 5.0493) ccw projected
  line L5 (11.1642, 5.393) -> (11.1961, 5.0276) projected
  arc A6 (11.1642, 5.393) -> (11.0112, 5.6514) centre (10.9164, 5.4208) ccw projected
  arc A7 (10.4933, 5.9954) -> (11.0112, 5.6514) centre (11.4026, 6.8024) ccw projected
  arc A8 (10.4933, 5.9954) -> (10.27, 6.15) centre (10.2627, 5.9009) ccw projected
  line L6 (9.67, 6.15) -> (10.27, 6.15) projected
  line L7 (9.17, 5.65) -> (9.67, 6.15) projected
  line L8 (9.17, 5.65) -> (9.17, -5.45) projected
  line L9 (9.17, -5.45) -> (9.67, -5.95) projected
  line L10 (9.67, -5.95) -> (10.27, -5.95) projected
  arc A9 (10.27, -5.95) -> (10.4933, -5.7954) centre (10.2627, -5.7008) ccw projected
  arc A10 (11.0112, -5.4514) -> (10.4933, -5.7954) centre (11.4026, -6.6024) ccw projected
  arc A11 (11.0112, -5.4514) -> (11.1642, -5.193) centre (10.9164, -5.2208) ccw projected
  line L11 (11.1642, -5.193) -> (11.1961, -4.8275) projected
  arc A12 (11.4444, -4.6) -> (11.1961, -4.8275) centre (11.4444, -4.8493) ccw projected
  line L12 (11.4444, -4.6) -> (11.8955, -4.6) projected
  arc A13 (12.1141, -4.828) -> (11.8955, -4.6) centre (11.8656, -4.8474) ccw projected
  line L13 (12.1141, -4.828) -> (12.1529, -5.325) projected
  arc A14 (12.1529, -5.325) -> (12.2641, -5.4514) centre (12.3846, -5.2332) ccw projected
  arc A15 (12.6573, -5.7482) -> (12.2641, -5.4514) centre (11.7553, -6.5343) ccw projected
  line L14 (3.07, 13.87) -> (16.87, 13.87) projected
  line L15 (16.87, 13.87) -> (16.87, 1.3283) projected
  line L16 (16.97, 1.3283) -> (16.97, 5.4715) projected
  line L17 (16.97, 5.4715) -> (24.85, 5.4715) projected
  line L18 (24.85, 5.4715) -> (24.85, 13.8689) projected
  line L19 (24.85, 13.8689) -> (19.5269, 13.8689) projected
  line L20 (19.5269, 13.8689) -> (13.8689, 19.5269) projected
  line L21 (13.8689, 19.5269) -> (13.8689, 24.85) projected
  line L22 (13.8689, 24.85) -> (-13.8689, 24.85) projected
  line L23 (-13.8689, 24.85) -> (-13.8689, 19.5269) projected
  line L24 (-13.8689, 19.5269) -> (-19.5269, 13.8689) projected
  line L25 (-19.5269, 13.8689) -> (-24.85, 13.8689) projected
  line L26 (-24.85, 13.8689) -> (-24.85, -13.8689) projected
  line L27 (-24.85, -13.8689) -> (-19.5269, -13.8689) projected
  line L28 (-19.5269, -13.8689) -> (-13.8689, -19.5269) projected
  line L29 (-13.8689, -19.5269) -> (-13.8689, -24.85) projected
  line L30 (-13.8689, -24.85) -> (13.8689, -24.85) projected
  line L31 (13.8689, -24.85) -> (13.8689, -19.5269) projected
  line L32 (13.8689, -19.5269) -> (19.5269, -13.8689) projected
  line L33 (19.5269, -13.8689) -> (24.85, -13.8689) projected
  line L34 (24.85, -13.8689) -> (24.85, -5.4961) projected
  line L35 (24.85, -5.4961) -> (16.97, -5.4961) projected
  line L36 (16.87, -13.87) -> (3.07, -13.87) projected
  line L37 (2.3093, 13.87) -> (16.87, 13.87) projected
  line L38 (16.87, 13.87) -> (14.37, 13.87)
  line L39 (14.37, 13.87) -> (14.37, 6.15)
  line L40 (14.37, 6.15) -> (16.87, 6.15)
  line L41 (16.87, 6.15) -> (16.87, 13.87)
  line L42 (16.87, -1.3283) -> (16.87, -13.87) projected
  line L43 (16.87, -13.87) -> (14.37, -13.87)
  line L44 (14.37, -13.87) -> (14.37, -5.95)
  line L45 (14.37, -5.95) -> (16.87, -5.95)
  line L46 (16.87, -5.95) -> (16.87, -13.87)
  line L47 (3.07, -13.87) -> (3.07, 13.87) projected
  line L48 (16.87, 1.3283) -> (16.97, 1.3283) projected
  line L49 (16.97, -5.4961) -> (16.97, -1.3283) projected
  line L50 (16.97, -1.3283) -> (16.87, -1.3283) projected
  line L51 (16.87, -1.3283) -> (16.87, -13.87) projected
  point P0 (0, 0)
  dimension "d82" = 2.5
  dimension "d83" = 7.72
ref_plane "Work Plane5" through (-16.97, -16.97, 0) normal (0, 0, 1) x (1, 0, 0)
extrude "Extrusion12" add sketch "Sketch15" against normal up to surface (2 mm away) contours L0 L42 L36 L44 | L14 L15 L2 L39
sketch "Sketch16" plane through (0, 0, 2) normal (0, 0, 1) x (1, 0, 0)
  circle A0 centre (-6.7668, -11.749) radius 1.4 projected
  circle A1 centre (0.5241, -6.5153) radius 1.4 projected
  circle A2 centre (-6.7668, 11.749) radius 1.4 projected
  circle A3 centre (0.5241, 6.5153) radius 1.4 projected
hole "Hole3" at (-6.7668, -11.749, 2) at (0.5241, -6.5153, 2) at (0.5241, 6.5153, 2) at (-6.7668, 11.749, 2) direction (0, 0, -1) diameter 2.8 end through all
sketch "Sketch17" plane through (0, 0, -1) normal (0, 0, -1) x (-1, 0, 0)
  arc A0 (16.87, 7.9971) -> (16.87, -7.9971) centre (11.03, 0) ccw projected
  circle A1 centre (11.03, 0) radius 9.9025
  point P0 (0, 0)
extrude "Extrusion13" cut sketch "Sketch17" against normal blind 10
ref_plane "Work Plane7" through (0, -16.87, -1) normal (-1, 0, 0) x (0, 0, 1)
ref_plane "Work Plane8" through (-16.87, 0, -1) normal (0, 1, 0) x (1, 0, 0)
sketch "Skizze18" plane through (24.85, -16.87, -1) normal (1, 0, 0) x (0, 0, -1)
  line L0 (0, 0) -> (-34.5, 0) projected
  line L1 (0, 0) -> (0, 33.74) projected
  line L2 (0, 33.74) -> (-34.5, 33.74) projected
  line L3 (-34.1, 22.3415) -> (-3, 22.3415) projected
  line L4 (-3, 30.7389) -> (-34.5, 30.7389) projected
  line L5 (-3, 22.3415) -> (-3, 30.7389) projected
  line L6 (-3, 3.0011) -> (-3, 11.3739) projected
  line L7 (-3, 3.0011) -> (-34.5, 3.0011) projected
  line L8 (-3, 11.3739) -> (-34.1, 11.3739) projected
  arc A0 (-31.2335, 15.7704) -> (-31.2335, 17.9696) centre (-28.4423, 16.87) ccw projected
  arc A1 (-31.2335, 17.9696) -> (-31.2335, 15.7704) centre (-32.1, 16.87) ccw projected
  circle A2 centre (-3.4423, 16.87) radius 3 projected
  circle A3 centre (-22.1923, 16.87) radius 3 projected
  circle A4 centre (-9.6923, 16.87) radius 3 projected
  circle A5 centre (-15.9423, 16.87) radius 3 projected
  line L9 (-3, 30.7389) -> (-34.1, 30.7389) projected
  line L10 (-34.1, 30.7389) -> (-3, 30.7389)
  line L11 (-3, 30.7389) -> (-3, 33.74)
  line L12 (-3, 33.74) -> (-34.1, 33.74)
  line L13 (-34.1, 33.74) -> (-34.1, 30.7389)
  line L14 (-3, 3.0011) -> (-34.1, 3.0011) projected
  line L15 (0, 0) -> (-35.1, 0) projected
  line L16 (-3, 3.0011) -> (-34.1, 3.0011)
  line L17 (-34.1, 3.0011) -> (-34.1, 0)
  line L18 (-34.1, 0) -> (-3, 0)
  line L19 (-3, 0) -> (-3, 3.0011)
  line L20 (-34.5, 30.7389) -> (-34.5, 33.74) projected
  line L21 (-34.1, 11.3739) -> (-34.1, 22.3415) projected
  line L22 (-34.5, 0) -> (-34.5, 3.0011) projected
  point P0 (-1, 16.87)
  point P1 (-3, 0)
  point P2 (-34.1, 0)
extrude "Extrusion14" cut sketch "Skizze18" against normal blind 10 contours L0 L17 L7 L19 | L11 L4 L13 L2
sketch "Skizze19" plane through (0, 0, -1) normal (0, 0, -1) x (-1, 0, 0)
  line L0 (-34.5437, 37.7032) -> (40.2308, 37.7032)
  line L1 (40.2308, 37.7032) -> (40.2308, -45.0753)
  line L2 (40.2308, -45.0753) -> (-34.5437, -45.0753)
  line L3 (-34.5437, -45.0753) -> (-34.5437, 37.7032)
  point P0 (0, 0)
extrude "Extrusion15" cut sketch "Skizze19" against normal blind 34 keep common part
sketch "Skizze20" plane through (0, 0, -1) normal (0, 0, -1) x (-1, 0, 0)
  line L0 (-16.87, 24.85) -> (16.87, 24.85) projected
  line L1 (-16.87, -24.85) -> (16.87, -24.85) projected
  line L2 (16.87, 24.85) -> (16.87, 20.77) projected
  line L3 (-16.87, 24.85) -> (16.87, 24.85)
  line L4 (16.87, 24.85) -> (16.87, 20.85)
  line L5 (16.87, 20.85) -> (-16.87, 20.85)
  line L6 (-16.87, 20.85) -> (-16.87, 24.85)
  line L7 (-16.87, -20.77) -> (-16.87, -24.85) projected
  line L8 (-16.87, -24.85) -> (16.87, -24.85)
  line L9 (16.87, -24.85) -> (16.87, -20.85)
  line L10 (16.87, -20.85) -> (-16.87, -20.85)
  line L11 (-16.87, -20.85) -> (-16.87, -24.85)
  point P0 (0, 0)
  point P1 (16.87, -24.85)
  point P2 (-16.87, -20.85)
  dimension "d104" = 4
  dimension "d105" = 4
extrude "Extrusion16" add sketch "Skizze20" against normal blind 34
sketch "Skizze21" plane through (0, 0, 33) normal (0, 0, 1) x (1, 0, 0)
  line L0 (16.97, 5.4715) -> (16.97, -5.4961) projected
  line L1 (16.97, -5.4961) -> (24.85, -5.4961) projected
  line L2 (24.85, -5.4961) -> (24.85, 5.4715) projected
  line L3 (24.85, 5.4715) -> (16.97, 5.4715) projected
  line L4 (16.87, -24.85) -> (16.87, -20.77) projected
  line L5 (16.87, -20.77) -> (20.77, -16.87) projected
  line L6 (20.77, -16.87) -> (16.5258, -16.87) projected
  line L7 (16.5258, -16.87) -> (13.8689, -19.5269) projected
  line L8 (13.8689, -19.5269) -> (13.8689, -20.85) projected
  line L9 (13.8689, -20.85) -> (-13.8689, -20.85) projected
  line L10 (-13.8689, -20.85) -> (-13.8689, -19.5269) projected
  line L11 (-13.8689, -19.5269) -> (-19.5269, -13.8689) projected
  line L12 (-19.5269, -13.8689) -> (-24.85, -13.8689) projected
  line L13 (-24.85, -13.8689) -> (-24.85, -16.87) projected
  line L14 (-24.85, -16.87) -> (-20.77, -16.87) projected
  line L15 (-20.77, -16.87) -> (-16.87, -20.77) projected
  line L16 (-16.87, -20.77) -> (-16.87, -24.85) projected
  line L17 (-16.87, -24.85) -> (16.87, -24.85) projected
  line L18 (-16.87, 24.85) -> (-16.87, 20.77) projected
  line L19 (-16.87, 20.77) -> (-20.77, 16.87) projected
  line L20 (-20.77, 16.87) -> (-24.85, 16.87) projected
  line L21 (-24.85, 16.87) -> (-24.85, 13.8689) projected
  line L22 (-24.85, 13.8689) -> (-19.5269, 13.8689) projected
  line L23 (-19.5269, 13.8689) -> (-13.8689, 19.5269) projected
  line L24 (-13.8689, 19.5269) -> (-13.8689, 20.85) projected
  line L25 (-13.8689, 20.85) -> (13.8689, 20.85) projected
  line L26 (13.8689, 20.85) -> (13.8689, 19.5269) projected
  line L27 (13.8689, 19.5269) -> (16.5258, 16.87) projected
  line L28 (16.5258, 16.87) -> (20.77, 16.87) projected
  line L29 (20.77, 16.87) -> (16.87, 20.77) projected
  line L30 (16.87, 20.77) -> (16.87, 24.85) projected
  line L31 (16.87, 24.85) -> (-16.87, 24.85) projected
  line L32 (16.97, -5.4961) -> (24.85, -5.4961) projected
  line L33 (20.77, -16.87) -> (16.5258, -16.87) projected
  line L34 (24.85, -5.4961) -> (16.87, -5.4961)
  line L35 (16.87, -5.4961) -> (16.87, -16.87)
  line L36 (16.87, -16.87) -> (24.85, -16.87)
  line L37 (24.85, -16.87) -> (24.85, -5.4961)
  line L38 (24.85, -5.4961) -> (24.85, 5.4715) projected
  line L39 (16.5258, 16.87) -> (20.77, 16.87) projected
  line L40 (24.85, 5.4715) -> (16.87, 5.4715)
  line L41 (16.87, 5.4715) -> (16.87, 16.87)
  line L42 (16.87, 16.87) -> (24.85, 16.87)
  line L43 (24.85, 16.87) -> (24.85, 5.4715)
  point P0 (0, 0)
  point P1 (16.9366, 16.87)
  point P2 (20.77, -16.87)
extrude "Extrusion17" add sketch "Skizze21" against normal blind 2 contours L40 L41 L28 L42 L43 L3 | L1 L37 L36 L6 L35 L34
equation "\"d2\" = d1"
equation "\"d3\" = d1"
equation "\"d4\" = d1"
equation "\"d5\" = d1"
properties part number "30_Cube_Z_Focus_MGN_NEMA_base_v3"
